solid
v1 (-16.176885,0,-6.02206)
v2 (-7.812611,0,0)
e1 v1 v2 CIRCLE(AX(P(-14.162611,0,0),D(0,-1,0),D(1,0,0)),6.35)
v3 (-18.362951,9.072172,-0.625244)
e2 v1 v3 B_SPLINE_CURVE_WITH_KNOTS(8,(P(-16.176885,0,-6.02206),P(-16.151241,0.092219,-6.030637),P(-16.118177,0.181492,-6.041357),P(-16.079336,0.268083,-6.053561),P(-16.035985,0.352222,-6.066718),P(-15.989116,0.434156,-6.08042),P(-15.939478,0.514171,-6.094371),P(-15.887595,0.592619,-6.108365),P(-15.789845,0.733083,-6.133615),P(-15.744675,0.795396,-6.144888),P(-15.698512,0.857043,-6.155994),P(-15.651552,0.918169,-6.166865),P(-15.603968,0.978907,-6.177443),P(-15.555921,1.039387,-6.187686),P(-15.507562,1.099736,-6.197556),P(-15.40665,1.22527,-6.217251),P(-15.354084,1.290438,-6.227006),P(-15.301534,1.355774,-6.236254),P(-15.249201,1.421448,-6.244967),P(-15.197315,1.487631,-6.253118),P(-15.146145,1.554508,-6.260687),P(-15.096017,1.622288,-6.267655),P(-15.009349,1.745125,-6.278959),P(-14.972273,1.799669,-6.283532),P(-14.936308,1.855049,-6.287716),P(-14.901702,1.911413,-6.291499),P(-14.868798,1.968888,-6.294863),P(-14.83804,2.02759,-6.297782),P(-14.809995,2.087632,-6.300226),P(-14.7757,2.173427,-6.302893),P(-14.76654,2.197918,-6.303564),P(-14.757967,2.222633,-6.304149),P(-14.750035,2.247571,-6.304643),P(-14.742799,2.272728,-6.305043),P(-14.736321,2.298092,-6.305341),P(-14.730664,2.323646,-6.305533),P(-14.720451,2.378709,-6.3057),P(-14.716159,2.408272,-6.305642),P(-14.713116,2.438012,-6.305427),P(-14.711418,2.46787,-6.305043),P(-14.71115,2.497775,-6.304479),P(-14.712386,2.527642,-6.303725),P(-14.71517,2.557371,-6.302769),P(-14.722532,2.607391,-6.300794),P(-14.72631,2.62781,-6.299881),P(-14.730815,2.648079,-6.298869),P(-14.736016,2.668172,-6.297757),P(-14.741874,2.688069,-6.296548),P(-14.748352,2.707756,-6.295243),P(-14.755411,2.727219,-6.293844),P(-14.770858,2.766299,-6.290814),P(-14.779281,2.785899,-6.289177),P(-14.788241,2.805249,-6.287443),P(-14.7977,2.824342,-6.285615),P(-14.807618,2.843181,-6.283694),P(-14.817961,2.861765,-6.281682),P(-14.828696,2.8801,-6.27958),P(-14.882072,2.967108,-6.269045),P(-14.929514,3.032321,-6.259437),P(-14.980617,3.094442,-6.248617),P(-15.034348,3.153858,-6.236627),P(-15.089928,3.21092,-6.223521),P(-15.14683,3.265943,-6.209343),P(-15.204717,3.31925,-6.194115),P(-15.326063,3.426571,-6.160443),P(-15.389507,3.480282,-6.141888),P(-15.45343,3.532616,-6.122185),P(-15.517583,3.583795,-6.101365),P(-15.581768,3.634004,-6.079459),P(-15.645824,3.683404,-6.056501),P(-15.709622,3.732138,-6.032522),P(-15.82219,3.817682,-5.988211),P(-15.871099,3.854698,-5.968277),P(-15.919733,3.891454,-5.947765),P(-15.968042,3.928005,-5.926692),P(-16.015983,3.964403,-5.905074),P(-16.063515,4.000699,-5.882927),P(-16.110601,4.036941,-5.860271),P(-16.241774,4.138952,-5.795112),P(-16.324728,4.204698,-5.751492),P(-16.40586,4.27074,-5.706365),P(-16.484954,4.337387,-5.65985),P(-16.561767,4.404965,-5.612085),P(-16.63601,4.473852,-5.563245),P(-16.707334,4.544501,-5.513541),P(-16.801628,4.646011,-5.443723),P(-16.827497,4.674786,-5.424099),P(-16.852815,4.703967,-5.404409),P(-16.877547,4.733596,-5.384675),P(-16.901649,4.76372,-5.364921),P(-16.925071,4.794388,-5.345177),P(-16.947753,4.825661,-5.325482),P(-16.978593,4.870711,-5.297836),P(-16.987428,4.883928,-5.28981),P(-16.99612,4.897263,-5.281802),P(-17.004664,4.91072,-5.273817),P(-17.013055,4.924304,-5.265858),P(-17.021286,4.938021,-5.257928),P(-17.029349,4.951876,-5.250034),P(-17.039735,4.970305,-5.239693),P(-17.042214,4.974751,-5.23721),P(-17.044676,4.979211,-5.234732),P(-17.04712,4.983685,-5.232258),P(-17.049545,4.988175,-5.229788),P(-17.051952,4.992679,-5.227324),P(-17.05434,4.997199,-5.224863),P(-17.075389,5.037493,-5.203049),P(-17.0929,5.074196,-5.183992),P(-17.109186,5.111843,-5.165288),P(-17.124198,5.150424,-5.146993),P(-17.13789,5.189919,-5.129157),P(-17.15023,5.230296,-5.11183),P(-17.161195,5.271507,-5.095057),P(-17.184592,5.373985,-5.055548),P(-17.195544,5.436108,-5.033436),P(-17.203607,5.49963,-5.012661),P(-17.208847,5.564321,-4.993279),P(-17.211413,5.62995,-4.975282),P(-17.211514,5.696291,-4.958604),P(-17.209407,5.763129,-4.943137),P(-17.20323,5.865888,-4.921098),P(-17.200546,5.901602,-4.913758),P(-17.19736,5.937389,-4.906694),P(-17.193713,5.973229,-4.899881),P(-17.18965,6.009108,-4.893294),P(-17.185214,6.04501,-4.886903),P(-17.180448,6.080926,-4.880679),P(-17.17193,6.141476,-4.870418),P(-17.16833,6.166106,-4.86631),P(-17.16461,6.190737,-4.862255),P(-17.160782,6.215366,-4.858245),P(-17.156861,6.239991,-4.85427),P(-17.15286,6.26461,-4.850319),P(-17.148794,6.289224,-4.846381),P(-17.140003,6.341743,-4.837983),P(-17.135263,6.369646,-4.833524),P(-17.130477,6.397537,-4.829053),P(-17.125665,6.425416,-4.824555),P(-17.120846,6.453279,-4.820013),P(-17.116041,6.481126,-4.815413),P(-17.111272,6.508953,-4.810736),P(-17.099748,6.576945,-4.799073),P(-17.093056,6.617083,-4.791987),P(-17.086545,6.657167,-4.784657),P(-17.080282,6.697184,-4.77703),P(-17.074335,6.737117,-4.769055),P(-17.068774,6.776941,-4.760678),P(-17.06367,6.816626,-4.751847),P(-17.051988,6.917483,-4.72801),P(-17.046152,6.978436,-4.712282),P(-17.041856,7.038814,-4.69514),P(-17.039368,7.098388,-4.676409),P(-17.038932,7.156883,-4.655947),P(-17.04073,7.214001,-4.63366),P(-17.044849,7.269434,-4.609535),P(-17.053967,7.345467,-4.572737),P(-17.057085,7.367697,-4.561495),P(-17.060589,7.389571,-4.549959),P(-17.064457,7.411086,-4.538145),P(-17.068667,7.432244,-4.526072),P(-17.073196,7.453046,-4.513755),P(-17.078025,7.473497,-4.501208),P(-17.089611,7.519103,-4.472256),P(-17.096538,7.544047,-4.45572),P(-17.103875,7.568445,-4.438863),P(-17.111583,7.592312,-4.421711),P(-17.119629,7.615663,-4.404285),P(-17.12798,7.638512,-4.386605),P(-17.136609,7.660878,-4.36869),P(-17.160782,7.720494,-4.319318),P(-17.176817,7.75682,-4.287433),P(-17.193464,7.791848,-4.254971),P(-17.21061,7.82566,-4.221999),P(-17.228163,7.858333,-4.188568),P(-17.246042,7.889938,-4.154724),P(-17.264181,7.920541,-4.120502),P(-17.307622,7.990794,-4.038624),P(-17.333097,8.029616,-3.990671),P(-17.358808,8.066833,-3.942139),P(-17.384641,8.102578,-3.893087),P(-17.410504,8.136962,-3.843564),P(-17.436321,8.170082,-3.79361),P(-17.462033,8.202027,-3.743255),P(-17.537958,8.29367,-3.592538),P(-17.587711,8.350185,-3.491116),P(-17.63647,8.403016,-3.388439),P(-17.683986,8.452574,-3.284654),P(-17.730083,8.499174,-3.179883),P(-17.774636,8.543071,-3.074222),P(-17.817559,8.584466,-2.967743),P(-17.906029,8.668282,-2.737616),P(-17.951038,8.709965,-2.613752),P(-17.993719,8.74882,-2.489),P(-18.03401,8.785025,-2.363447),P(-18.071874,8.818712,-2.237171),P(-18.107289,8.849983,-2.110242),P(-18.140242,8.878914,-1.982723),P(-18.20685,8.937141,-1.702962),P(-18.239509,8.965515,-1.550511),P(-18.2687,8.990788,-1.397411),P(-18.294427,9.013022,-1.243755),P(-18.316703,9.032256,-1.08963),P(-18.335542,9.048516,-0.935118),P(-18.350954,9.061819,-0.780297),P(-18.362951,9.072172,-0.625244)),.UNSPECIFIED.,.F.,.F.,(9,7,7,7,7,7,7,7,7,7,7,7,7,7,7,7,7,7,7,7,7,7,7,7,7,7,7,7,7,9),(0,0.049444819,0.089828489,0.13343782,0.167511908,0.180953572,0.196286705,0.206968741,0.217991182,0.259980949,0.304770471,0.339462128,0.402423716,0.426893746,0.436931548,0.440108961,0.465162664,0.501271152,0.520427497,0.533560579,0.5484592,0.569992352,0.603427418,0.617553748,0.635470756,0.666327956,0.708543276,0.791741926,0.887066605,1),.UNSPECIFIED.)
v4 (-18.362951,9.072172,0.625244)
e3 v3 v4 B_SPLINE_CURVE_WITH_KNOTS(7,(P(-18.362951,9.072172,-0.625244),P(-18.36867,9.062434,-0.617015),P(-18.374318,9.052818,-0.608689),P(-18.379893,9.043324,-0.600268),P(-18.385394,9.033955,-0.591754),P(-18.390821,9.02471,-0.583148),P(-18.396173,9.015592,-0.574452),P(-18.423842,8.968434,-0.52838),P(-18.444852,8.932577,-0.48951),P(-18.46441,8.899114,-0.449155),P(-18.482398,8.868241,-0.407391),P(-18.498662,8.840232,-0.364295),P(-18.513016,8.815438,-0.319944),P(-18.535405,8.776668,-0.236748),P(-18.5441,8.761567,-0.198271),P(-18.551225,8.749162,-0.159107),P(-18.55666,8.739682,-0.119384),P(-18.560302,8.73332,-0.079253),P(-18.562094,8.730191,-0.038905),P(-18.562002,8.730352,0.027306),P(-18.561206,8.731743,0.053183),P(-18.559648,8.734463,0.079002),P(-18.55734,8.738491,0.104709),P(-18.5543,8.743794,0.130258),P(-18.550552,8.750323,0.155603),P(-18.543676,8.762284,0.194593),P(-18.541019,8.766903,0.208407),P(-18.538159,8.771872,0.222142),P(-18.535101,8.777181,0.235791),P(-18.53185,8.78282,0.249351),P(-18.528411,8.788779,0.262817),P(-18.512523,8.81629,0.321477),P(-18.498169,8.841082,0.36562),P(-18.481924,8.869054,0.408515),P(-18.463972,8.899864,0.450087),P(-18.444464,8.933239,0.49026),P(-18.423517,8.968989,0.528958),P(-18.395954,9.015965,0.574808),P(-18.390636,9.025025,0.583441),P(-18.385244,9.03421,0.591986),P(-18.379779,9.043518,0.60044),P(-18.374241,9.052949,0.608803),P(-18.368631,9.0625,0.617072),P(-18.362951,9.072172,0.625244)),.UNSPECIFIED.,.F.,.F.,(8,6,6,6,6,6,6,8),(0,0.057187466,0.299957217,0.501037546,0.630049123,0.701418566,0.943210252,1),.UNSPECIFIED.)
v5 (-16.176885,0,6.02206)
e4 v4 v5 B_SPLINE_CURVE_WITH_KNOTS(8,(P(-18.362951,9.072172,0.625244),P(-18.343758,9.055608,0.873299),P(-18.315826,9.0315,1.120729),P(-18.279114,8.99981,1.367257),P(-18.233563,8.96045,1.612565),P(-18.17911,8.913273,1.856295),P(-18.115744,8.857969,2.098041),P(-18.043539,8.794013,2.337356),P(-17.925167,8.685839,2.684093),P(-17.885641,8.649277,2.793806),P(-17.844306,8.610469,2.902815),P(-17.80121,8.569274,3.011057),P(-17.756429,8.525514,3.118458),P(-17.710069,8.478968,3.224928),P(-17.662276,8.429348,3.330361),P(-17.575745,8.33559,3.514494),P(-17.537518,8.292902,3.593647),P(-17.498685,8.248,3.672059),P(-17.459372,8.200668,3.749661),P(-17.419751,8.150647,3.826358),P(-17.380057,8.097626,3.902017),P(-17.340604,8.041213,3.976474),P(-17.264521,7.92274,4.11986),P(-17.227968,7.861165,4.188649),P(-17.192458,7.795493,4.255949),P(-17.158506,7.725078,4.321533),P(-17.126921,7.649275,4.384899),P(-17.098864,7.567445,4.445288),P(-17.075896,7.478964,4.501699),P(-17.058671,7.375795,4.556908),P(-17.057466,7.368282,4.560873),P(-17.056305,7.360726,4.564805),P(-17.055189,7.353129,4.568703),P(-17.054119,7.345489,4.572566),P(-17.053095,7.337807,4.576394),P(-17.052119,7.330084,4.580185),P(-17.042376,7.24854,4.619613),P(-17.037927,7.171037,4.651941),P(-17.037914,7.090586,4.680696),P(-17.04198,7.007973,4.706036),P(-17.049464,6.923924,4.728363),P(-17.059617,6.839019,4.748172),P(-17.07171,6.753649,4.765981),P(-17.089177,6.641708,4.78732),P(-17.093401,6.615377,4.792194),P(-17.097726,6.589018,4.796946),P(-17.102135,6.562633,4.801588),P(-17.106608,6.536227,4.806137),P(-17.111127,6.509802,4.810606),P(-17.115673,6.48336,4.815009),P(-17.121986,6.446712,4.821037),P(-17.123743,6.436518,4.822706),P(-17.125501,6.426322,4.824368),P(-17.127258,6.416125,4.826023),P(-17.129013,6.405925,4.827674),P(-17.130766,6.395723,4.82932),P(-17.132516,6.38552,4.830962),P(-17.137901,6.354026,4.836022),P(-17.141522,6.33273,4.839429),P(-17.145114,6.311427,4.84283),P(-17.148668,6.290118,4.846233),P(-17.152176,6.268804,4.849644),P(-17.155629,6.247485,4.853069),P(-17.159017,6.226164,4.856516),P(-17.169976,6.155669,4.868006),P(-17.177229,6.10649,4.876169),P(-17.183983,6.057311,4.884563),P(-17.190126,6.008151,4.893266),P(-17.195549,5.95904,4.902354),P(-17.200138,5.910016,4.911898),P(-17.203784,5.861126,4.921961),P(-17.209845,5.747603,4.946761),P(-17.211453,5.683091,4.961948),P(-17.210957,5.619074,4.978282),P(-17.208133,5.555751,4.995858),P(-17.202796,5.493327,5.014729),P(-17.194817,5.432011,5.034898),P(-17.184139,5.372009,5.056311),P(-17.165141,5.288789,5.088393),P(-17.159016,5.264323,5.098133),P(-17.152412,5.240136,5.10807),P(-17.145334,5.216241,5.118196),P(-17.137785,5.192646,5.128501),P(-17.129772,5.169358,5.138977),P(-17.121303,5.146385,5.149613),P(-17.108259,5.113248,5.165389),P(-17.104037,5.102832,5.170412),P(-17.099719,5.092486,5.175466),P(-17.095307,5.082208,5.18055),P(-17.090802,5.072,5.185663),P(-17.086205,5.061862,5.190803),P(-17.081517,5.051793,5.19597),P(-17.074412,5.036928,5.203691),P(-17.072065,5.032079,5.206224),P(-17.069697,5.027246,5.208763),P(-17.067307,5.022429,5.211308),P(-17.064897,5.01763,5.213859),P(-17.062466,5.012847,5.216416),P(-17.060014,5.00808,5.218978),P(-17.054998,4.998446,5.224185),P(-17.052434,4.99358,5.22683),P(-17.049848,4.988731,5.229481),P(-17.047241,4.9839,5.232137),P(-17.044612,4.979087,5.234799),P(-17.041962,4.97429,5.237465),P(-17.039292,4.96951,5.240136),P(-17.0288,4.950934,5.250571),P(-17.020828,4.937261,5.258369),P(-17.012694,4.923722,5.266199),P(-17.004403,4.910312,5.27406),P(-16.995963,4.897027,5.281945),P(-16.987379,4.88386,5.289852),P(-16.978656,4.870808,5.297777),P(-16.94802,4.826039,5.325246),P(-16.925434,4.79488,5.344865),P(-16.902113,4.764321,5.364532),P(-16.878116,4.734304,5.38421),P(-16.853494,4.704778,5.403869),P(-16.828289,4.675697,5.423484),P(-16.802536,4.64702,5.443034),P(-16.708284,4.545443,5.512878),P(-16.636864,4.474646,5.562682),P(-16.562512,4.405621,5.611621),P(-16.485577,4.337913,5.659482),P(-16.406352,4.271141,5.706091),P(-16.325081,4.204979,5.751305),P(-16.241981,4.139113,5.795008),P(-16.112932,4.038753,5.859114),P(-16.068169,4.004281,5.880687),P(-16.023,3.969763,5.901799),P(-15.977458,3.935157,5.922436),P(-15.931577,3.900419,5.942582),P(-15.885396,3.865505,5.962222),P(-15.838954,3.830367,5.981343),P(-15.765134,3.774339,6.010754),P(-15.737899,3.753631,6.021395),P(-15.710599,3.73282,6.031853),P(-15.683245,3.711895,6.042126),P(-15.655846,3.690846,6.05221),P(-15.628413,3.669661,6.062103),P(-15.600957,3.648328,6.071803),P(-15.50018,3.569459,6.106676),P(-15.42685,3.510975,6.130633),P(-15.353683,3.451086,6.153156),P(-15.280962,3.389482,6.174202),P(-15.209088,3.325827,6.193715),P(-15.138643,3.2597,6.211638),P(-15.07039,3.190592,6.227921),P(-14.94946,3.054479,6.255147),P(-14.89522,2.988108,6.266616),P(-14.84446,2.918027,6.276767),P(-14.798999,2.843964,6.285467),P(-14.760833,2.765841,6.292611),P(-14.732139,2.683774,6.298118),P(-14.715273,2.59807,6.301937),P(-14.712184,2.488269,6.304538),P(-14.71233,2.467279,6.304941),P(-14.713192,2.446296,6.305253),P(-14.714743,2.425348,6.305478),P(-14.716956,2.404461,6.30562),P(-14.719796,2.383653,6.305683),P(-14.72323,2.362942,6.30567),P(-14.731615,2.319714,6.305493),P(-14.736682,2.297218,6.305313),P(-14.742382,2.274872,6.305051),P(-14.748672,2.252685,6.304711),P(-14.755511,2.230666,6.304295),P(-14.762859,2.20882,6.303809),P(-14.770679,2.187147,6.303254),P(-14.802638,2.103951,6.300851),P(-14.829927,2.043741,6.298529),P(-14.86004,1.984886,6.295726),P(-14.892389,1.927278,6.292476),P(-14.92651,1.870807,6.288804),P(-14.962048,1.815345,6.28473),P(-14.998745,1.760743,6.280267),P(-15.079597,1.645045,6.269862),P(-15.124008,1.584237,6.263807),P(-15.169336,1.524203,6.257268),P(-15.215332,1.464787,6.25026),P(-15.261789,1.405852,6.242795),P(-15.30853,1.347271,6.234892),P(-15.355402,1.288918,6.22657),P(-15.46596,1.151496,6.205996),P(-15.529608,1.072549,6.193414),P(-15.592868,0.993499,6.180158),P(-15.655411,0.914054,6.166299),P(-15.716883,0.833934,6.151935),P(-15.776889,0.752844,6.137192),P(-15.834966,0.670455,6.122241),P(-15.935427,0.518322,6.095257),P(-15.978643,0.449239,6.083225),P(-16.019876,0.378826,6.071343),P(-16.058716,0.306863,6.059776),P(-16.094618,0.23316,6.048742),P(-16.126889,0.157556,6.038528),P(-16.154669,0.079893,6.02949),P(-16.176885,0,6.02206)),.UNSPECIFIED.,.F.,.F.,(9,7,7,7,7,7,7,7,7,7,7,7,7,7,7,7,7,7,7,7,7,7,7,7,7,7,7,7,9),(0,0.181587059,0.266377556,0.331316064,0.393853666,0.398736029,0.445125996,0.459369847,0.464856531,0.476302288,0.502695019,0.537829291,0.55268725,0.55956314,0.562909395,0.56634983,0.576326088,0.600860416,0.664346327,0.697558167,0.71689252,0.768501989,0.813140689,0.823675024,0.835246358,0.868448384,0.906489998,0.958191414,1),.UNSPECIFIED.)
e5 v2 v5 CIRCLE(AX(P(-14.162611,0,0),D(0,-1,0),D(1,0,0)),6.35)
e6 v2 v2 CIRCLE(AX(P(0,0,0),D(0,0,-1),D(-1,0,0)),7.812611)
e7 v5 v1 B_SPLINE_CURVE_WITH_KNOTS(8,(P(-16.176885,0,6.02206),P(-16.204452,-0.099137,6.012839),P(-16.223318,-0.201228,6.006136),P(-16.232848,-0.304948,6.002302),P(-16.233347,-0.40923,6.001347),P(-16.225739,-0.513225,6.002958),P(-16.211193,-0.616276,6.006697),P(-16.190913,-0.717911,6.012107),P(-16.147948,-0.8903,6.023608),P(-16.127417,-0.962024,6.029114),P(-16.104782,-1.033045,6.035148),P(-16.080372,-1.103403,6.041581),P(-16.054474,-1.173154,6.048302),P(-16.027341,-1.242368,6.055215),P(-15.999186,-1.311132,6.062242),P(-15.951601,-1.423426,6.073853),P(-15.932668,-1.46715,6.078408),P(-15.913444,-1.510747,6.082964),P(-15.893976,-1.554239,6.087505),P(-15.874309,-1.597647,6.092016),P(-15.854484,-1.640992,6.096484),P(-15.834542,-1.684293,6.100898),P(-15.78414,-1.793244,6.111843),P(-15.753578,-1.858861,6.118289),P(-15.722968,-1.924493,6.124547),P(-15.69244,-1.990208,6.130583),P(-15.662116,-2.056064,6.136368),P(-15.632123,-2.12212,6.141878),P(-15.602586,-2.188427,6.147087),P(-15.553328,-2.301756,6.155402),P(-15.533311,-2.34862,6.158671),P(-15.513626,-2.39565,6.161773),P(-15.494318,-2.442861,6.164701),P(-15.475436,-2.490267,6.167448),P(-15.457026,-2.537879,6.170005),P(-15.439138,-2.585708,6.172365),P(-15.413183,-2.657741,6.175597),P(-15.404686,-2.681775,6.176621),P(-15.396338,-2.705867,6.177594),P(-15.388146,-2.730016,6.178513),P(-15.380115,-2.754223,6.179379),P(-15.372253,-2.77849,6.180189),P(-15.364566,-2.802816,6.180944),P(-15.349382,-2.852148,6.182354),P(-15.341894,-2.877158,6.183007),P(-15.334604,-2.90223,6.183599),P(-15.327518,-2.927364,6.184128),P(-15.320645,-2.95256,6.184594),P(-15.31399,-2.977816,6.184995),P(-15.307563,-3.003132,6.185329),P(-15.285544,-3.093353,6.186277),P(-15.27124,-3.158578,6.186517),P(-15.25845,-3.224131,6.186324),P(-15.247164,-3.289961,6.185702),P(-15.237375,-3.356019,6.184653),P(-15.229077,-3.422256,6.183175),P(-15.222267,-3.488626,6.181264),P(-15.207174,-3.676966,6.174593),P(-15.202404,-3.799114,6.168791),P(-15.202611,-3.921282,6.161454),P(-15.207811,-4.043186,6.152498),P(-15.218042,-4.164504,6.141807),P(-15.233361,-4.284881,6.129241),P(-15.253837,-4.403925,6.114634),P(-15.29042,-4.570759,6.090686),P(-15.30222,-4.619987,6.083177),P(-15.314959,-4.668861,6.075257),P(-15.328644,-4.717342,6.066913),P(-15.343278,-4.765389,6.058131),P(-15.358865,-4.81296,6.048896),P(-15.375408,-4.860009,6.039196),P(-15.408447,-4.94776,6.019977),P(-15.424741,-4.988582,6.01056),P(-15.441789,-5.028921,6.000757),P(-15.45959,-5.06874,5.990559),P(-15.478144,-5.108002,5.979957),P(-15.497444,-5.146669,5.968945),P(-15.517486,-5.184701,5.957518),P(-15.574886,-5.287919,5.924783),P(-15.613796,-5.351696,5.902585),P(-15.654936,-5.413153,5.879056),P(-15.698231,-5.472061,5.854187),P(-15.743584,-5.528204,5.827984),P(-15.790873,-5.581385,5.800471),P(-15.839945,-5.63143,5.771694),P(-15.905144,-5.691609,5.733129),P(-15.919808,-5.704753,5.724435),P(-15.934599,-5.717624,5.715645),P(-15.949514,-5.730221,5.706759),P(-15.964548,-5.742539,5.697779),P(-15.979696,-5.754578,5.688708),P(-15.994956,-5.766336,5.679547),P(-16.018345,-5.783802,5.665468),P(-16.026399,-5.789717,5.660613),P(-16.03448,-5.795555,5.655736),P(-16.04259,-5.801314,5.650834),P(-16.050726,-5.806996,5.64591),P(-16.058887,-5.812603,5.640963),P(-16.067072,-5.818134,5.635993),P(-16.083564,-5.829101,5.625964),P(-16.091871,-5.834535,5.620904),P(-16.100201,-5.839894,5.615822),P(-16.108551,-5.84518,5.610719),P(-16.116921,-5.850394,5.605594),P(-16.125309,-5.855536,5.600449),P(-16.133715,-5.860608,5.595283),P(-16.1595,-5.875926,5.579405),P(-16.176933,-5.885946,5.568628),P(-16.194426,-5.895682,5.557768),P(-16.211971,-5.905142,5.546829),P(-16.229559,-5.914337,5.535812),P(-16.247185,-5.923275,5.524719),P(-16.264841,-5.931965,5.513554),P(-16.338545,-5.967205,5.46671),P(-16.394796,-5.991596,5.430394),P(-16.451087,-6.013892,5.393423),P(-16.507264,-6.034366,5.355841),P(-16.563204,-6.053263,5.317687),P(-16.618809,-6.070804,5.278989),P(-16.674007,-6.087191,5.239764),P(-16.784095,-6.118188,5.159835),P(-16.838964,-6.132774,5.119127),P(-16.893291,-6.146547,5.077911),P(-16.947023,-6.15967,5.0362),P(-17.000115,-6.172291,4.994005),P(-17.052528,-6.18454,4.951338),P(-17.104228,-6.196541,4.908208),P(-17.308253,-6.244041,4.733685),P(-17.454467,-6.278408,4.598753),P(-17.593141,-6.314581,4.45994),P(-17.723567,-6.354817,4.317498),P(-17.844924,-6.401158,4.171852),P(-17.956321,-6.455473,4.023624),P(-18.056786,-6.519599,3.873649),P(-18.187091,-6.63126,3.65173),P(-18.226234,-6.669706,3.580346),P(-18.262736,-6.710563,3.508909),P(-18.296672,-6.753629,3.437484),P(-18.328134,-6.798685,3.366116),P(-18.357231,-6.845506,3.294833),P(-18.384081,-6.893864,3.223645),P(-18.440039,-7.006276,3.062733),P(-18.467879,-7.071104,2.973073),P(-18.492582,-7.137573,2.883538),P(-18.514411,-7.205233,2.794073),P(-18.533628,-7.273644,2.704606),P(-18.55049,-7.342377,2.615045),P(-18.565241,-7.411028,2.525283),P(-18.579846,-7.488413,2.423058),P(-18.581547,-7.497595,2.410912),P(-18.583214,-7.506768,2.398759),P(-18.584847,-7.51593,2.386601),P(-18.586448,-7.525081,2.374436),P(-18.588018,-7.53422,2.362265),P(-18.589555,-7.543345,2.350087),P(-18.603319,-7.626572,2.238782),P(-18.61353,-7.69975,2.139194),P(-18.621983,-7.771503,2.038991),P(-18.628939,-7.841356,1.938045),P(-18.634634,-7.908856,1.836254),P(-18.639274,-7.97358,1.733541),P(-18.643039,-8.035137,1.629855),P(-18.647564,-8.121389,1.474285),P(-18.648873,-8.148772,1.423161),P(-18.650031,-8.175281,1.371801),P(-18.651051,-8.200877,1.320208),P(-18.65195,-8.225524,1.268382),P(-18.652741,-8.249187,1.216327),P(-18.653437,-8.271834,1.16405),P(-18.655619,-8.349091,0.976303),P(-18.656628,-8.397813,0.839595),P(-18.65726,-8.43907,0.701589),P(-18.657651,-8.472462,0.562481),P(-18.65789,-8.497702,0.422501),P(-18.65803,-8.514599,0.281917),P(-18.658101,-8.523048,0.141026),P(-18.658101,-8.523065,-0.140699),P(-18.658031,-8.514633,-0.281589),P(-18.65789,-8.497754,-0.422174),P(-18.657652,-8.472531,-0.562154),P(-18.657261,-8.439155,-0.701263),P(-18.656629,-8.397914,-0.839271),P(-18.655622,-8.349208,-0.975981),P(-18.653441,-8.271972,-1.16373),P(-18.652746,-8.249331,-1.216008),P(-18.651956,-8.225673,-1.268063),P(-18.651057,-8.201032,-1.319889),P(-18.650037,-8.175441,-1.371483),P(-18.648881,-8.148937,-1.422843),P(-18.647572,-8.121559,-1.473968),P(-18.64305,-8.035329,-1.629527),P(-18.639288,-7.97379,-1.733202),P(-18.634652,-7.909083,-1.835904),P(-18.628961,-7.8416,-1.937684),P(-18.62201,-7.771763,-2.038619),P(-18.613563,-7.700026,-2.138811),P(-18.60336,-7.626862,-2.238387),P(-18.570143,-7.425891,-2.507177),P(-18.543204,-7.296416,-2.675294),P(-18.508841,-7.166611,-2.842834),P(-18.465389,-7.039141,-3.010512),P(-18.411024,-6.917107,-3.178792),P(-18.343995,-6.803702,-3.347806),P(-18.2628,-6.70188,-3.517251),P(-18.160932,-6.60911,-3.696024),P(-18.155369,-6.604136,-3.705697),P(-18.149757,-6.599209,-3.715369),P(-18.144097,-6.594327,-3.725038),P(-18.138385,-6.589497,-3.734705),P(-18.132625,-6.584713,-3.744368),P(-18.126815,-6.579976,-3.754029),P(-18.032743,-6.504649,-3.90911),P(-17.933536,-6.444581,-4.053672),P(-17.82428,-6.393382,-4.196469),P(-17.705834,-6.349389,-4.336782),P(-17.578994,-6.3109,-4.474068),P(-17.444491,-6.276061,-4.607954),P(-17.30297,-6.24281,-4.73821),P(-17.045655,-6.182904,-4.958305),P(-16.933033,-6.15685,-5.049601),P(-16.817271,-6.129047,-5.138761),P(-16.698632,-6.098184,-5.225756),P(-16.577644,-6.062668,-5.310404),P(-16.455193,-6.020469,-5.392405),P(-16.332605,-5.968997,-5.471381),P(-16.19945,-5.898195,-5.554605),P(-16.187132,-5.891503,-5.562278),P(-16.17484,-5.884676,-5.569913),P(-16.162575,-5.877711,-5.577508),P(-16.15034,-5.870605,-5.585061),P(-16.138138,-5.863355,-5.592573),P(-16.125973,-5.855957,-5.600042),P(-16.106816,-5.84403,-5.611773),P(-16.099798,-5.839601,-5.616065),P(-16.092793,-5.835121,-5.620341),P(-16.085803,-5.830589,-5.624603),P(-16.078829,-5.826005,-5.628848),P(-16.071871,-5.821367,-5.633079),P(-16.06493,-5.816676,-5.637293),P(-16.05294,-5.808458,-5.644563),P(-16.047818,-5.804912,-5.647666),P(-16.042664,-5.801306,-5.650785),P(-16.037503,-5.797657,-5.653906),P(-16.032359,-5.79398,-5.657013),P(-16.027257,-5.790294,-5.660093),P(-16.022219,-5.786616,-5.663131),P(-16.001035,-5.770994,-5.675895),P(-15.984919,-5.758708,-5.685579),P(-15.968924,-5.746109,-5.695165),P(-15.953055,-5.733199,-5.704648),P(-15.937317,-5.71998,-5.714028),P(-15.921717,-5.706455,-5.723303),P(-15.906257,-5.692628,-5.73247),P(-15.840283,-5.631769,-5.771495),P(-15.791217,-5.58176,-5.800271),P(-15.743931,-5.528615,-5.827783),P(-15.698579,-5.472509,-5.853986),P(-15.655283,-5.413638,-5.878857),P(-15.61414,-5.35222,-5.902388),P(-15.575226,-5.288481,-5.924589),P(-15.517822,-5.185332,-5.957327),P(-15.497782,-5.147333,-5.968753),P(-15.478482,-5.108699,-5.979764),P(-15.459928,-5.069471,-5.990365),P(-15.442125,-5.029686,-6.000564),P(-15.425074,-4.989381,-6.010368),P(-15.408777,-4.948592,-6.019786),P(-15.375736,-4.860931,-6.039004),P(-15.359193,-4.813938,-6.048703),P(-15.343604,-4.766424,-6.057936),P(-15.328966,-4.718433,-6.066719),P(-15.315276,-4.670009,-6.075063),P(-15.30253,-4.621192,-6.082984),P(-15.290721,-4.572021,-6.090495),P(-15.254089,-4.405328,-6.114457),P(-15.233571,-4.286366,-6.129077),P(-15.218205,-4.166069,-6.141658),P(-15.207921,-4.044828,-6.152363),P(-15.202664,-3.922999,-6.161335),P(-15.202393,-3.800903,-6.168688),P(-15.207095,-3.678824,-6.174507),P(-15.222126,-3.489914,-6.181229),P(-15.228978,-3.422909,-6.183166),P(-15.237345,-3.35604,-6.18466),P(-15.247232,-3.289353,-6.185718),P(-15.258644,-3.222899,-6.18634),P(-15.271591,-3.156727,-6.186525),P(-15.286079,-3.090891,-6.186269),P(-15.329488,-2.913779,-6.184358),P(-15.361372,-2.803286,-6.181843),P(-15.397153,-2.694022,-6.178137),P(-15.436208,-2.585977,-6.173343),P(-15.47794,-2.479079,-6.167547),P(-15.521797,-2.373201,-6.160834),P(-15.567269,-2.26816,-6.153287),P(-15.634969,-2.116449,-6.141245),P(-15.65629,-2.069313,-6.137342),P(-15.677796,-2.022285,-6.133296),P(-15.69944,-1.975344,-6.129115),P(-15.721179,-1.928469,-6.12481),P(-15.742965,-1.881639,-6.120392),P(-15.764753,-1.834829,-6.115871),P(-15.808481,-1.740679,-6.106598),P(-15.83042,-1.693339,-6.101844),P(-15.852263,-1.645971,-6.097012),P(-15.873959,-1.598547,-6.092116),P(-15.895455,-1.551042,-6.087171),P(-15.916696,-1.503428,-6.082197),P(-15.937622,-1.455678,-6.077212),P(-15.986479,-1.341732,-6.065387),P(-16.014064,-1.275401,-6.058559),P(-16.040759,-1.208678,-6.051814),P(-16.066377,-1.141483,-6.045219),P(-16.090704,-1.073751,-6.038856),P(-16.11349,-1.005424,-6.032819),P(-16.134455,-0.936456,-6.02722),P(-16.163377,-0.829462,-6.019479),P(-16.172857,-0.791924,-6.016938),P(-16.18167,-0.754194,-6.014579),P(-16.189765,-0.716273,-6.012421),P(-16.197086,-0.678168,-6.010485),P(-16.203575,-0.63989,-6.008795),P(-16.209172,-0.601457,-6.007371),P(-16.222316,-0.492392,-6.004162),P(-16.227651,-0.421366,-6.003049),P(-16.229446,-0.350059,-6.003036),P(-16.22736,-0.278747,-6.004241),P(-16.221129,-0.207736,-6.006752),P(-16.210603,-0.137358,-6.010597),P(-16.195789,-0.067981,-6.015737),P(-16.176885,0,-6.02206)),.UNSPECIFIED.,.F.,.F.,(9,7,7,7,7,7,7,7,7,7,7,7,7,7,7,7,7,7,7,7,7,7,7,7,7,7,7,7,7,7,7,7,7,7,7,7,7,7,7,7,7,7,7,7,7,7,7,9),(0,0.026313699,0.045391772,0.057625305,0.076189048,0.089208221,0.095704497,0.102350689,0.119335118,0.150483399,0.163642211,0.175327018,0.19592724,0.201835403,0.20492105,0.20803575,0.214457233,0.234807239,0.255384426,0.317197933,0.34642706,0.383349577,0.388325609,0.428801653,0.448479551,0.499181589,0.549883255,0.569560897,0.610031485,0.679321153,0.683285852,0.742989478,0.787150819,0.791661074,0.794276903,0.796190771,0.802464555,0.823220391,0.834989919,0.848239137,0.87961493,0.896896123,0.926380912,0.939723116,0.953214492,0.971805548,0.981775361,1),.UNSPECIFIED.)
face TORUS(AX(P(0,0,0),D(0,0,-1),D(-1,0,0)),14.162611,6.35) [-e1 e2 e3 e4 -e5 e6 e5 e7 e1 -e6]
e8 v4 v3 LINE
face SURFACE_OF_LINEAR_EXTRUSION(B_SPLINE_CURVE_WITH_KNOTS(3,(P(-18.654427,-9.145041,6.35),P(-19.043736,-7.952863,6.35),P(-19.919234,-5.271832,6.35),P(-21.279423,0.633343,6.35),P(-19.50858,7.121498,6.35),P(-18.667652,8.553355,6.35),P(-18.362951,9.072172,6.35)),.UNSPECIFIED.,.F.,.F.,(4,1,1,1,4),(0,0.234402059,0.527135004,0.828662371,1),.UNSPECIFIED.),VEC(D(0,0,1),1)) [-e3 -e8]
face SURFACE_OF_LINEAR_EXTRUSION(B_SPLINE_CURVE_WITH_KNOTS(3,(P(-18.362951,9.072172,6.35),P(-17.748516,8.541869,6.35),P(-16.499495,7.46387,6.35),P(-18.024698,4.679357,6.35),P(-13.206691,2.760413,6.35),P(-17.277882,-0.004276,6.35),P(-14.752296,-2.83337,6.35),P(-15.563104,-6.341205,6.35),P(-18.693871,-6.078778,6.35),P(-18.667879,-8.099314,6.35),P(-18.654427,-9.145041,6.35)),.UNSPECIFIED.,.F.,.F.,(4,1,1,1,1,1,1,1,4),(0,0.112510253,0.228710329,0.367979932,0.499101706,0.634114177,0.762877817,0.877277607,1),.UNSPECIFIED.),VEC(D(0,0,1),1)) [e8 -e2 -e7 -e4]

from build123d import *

# Parameters (mm, degrees)
F0_R     = 25.4
F6_DEPTH = 230.378
F7_SCALE = 0.25


with BuildPart() as f2:
    # F0 (on Front) → F2 (revolve)
    with BuildSketch(Plane.XZ):
        with Locations((-56.650445359, 0)):
            Circle(F0_R)
    revolve(axis=Axis((0, 0, -38.0238), (0, 0, -1)))

    # F5 (on offset) → F6 (cut)
    with BuildSketch(Plane.XY.offset(25.4)):
        with BuildLine():
            add(Edge.make_bspline(
                [(-73.4518021345, 36.288689822), (-70.994062093, 34.1674757975), (-65.9979793522, 29.8554816086), (-72.0987937557, 18.717426202), (-52.8267642226, 11.0416537059), (-69.1115270285, -0.0171037051), (-59.0091824454, -11.3334816517), (-62.2524152473, -25.3648181401), (-74.7754849314, -24.3151130718), (-74.6715155223, -32.397256982), (-74.6177062392, -36.5801639855)],
                knots=[0, 0, 0, 0, 0.1125102532, 0.2287103293, 0.3679799321, 0.4991017061, 0.6341141769, 0.7628778167, 0.877277607, 1, 1, 1, 1], degree=3))
            add(Edge.make_bspline(
                [(-74.6177062392, -36.5801639855), (-76.1749433028, -31.811450133), (-79.6769354255, -21.0873293566), (-85.1176937849, 2.5333735202), (-78.0343198671, 28.4859934356), (-74.670607669, 34.2134180839), (-73.4518021345, 36.288689822)],
                knots=[0, 0, 0, 0, 0.2344020594, 0.5271350039, 0.8286623705, 1, 1, 1, 1], degree=3))
        make_face()
    extrude(amount=-F6_DEPTH, mode=Mode.SUBTRACT)


with BuildPart() as f2_1:
    # F7: moved
    add(f2.part.scale(F7_SCALE))


solid = f2_1.part
